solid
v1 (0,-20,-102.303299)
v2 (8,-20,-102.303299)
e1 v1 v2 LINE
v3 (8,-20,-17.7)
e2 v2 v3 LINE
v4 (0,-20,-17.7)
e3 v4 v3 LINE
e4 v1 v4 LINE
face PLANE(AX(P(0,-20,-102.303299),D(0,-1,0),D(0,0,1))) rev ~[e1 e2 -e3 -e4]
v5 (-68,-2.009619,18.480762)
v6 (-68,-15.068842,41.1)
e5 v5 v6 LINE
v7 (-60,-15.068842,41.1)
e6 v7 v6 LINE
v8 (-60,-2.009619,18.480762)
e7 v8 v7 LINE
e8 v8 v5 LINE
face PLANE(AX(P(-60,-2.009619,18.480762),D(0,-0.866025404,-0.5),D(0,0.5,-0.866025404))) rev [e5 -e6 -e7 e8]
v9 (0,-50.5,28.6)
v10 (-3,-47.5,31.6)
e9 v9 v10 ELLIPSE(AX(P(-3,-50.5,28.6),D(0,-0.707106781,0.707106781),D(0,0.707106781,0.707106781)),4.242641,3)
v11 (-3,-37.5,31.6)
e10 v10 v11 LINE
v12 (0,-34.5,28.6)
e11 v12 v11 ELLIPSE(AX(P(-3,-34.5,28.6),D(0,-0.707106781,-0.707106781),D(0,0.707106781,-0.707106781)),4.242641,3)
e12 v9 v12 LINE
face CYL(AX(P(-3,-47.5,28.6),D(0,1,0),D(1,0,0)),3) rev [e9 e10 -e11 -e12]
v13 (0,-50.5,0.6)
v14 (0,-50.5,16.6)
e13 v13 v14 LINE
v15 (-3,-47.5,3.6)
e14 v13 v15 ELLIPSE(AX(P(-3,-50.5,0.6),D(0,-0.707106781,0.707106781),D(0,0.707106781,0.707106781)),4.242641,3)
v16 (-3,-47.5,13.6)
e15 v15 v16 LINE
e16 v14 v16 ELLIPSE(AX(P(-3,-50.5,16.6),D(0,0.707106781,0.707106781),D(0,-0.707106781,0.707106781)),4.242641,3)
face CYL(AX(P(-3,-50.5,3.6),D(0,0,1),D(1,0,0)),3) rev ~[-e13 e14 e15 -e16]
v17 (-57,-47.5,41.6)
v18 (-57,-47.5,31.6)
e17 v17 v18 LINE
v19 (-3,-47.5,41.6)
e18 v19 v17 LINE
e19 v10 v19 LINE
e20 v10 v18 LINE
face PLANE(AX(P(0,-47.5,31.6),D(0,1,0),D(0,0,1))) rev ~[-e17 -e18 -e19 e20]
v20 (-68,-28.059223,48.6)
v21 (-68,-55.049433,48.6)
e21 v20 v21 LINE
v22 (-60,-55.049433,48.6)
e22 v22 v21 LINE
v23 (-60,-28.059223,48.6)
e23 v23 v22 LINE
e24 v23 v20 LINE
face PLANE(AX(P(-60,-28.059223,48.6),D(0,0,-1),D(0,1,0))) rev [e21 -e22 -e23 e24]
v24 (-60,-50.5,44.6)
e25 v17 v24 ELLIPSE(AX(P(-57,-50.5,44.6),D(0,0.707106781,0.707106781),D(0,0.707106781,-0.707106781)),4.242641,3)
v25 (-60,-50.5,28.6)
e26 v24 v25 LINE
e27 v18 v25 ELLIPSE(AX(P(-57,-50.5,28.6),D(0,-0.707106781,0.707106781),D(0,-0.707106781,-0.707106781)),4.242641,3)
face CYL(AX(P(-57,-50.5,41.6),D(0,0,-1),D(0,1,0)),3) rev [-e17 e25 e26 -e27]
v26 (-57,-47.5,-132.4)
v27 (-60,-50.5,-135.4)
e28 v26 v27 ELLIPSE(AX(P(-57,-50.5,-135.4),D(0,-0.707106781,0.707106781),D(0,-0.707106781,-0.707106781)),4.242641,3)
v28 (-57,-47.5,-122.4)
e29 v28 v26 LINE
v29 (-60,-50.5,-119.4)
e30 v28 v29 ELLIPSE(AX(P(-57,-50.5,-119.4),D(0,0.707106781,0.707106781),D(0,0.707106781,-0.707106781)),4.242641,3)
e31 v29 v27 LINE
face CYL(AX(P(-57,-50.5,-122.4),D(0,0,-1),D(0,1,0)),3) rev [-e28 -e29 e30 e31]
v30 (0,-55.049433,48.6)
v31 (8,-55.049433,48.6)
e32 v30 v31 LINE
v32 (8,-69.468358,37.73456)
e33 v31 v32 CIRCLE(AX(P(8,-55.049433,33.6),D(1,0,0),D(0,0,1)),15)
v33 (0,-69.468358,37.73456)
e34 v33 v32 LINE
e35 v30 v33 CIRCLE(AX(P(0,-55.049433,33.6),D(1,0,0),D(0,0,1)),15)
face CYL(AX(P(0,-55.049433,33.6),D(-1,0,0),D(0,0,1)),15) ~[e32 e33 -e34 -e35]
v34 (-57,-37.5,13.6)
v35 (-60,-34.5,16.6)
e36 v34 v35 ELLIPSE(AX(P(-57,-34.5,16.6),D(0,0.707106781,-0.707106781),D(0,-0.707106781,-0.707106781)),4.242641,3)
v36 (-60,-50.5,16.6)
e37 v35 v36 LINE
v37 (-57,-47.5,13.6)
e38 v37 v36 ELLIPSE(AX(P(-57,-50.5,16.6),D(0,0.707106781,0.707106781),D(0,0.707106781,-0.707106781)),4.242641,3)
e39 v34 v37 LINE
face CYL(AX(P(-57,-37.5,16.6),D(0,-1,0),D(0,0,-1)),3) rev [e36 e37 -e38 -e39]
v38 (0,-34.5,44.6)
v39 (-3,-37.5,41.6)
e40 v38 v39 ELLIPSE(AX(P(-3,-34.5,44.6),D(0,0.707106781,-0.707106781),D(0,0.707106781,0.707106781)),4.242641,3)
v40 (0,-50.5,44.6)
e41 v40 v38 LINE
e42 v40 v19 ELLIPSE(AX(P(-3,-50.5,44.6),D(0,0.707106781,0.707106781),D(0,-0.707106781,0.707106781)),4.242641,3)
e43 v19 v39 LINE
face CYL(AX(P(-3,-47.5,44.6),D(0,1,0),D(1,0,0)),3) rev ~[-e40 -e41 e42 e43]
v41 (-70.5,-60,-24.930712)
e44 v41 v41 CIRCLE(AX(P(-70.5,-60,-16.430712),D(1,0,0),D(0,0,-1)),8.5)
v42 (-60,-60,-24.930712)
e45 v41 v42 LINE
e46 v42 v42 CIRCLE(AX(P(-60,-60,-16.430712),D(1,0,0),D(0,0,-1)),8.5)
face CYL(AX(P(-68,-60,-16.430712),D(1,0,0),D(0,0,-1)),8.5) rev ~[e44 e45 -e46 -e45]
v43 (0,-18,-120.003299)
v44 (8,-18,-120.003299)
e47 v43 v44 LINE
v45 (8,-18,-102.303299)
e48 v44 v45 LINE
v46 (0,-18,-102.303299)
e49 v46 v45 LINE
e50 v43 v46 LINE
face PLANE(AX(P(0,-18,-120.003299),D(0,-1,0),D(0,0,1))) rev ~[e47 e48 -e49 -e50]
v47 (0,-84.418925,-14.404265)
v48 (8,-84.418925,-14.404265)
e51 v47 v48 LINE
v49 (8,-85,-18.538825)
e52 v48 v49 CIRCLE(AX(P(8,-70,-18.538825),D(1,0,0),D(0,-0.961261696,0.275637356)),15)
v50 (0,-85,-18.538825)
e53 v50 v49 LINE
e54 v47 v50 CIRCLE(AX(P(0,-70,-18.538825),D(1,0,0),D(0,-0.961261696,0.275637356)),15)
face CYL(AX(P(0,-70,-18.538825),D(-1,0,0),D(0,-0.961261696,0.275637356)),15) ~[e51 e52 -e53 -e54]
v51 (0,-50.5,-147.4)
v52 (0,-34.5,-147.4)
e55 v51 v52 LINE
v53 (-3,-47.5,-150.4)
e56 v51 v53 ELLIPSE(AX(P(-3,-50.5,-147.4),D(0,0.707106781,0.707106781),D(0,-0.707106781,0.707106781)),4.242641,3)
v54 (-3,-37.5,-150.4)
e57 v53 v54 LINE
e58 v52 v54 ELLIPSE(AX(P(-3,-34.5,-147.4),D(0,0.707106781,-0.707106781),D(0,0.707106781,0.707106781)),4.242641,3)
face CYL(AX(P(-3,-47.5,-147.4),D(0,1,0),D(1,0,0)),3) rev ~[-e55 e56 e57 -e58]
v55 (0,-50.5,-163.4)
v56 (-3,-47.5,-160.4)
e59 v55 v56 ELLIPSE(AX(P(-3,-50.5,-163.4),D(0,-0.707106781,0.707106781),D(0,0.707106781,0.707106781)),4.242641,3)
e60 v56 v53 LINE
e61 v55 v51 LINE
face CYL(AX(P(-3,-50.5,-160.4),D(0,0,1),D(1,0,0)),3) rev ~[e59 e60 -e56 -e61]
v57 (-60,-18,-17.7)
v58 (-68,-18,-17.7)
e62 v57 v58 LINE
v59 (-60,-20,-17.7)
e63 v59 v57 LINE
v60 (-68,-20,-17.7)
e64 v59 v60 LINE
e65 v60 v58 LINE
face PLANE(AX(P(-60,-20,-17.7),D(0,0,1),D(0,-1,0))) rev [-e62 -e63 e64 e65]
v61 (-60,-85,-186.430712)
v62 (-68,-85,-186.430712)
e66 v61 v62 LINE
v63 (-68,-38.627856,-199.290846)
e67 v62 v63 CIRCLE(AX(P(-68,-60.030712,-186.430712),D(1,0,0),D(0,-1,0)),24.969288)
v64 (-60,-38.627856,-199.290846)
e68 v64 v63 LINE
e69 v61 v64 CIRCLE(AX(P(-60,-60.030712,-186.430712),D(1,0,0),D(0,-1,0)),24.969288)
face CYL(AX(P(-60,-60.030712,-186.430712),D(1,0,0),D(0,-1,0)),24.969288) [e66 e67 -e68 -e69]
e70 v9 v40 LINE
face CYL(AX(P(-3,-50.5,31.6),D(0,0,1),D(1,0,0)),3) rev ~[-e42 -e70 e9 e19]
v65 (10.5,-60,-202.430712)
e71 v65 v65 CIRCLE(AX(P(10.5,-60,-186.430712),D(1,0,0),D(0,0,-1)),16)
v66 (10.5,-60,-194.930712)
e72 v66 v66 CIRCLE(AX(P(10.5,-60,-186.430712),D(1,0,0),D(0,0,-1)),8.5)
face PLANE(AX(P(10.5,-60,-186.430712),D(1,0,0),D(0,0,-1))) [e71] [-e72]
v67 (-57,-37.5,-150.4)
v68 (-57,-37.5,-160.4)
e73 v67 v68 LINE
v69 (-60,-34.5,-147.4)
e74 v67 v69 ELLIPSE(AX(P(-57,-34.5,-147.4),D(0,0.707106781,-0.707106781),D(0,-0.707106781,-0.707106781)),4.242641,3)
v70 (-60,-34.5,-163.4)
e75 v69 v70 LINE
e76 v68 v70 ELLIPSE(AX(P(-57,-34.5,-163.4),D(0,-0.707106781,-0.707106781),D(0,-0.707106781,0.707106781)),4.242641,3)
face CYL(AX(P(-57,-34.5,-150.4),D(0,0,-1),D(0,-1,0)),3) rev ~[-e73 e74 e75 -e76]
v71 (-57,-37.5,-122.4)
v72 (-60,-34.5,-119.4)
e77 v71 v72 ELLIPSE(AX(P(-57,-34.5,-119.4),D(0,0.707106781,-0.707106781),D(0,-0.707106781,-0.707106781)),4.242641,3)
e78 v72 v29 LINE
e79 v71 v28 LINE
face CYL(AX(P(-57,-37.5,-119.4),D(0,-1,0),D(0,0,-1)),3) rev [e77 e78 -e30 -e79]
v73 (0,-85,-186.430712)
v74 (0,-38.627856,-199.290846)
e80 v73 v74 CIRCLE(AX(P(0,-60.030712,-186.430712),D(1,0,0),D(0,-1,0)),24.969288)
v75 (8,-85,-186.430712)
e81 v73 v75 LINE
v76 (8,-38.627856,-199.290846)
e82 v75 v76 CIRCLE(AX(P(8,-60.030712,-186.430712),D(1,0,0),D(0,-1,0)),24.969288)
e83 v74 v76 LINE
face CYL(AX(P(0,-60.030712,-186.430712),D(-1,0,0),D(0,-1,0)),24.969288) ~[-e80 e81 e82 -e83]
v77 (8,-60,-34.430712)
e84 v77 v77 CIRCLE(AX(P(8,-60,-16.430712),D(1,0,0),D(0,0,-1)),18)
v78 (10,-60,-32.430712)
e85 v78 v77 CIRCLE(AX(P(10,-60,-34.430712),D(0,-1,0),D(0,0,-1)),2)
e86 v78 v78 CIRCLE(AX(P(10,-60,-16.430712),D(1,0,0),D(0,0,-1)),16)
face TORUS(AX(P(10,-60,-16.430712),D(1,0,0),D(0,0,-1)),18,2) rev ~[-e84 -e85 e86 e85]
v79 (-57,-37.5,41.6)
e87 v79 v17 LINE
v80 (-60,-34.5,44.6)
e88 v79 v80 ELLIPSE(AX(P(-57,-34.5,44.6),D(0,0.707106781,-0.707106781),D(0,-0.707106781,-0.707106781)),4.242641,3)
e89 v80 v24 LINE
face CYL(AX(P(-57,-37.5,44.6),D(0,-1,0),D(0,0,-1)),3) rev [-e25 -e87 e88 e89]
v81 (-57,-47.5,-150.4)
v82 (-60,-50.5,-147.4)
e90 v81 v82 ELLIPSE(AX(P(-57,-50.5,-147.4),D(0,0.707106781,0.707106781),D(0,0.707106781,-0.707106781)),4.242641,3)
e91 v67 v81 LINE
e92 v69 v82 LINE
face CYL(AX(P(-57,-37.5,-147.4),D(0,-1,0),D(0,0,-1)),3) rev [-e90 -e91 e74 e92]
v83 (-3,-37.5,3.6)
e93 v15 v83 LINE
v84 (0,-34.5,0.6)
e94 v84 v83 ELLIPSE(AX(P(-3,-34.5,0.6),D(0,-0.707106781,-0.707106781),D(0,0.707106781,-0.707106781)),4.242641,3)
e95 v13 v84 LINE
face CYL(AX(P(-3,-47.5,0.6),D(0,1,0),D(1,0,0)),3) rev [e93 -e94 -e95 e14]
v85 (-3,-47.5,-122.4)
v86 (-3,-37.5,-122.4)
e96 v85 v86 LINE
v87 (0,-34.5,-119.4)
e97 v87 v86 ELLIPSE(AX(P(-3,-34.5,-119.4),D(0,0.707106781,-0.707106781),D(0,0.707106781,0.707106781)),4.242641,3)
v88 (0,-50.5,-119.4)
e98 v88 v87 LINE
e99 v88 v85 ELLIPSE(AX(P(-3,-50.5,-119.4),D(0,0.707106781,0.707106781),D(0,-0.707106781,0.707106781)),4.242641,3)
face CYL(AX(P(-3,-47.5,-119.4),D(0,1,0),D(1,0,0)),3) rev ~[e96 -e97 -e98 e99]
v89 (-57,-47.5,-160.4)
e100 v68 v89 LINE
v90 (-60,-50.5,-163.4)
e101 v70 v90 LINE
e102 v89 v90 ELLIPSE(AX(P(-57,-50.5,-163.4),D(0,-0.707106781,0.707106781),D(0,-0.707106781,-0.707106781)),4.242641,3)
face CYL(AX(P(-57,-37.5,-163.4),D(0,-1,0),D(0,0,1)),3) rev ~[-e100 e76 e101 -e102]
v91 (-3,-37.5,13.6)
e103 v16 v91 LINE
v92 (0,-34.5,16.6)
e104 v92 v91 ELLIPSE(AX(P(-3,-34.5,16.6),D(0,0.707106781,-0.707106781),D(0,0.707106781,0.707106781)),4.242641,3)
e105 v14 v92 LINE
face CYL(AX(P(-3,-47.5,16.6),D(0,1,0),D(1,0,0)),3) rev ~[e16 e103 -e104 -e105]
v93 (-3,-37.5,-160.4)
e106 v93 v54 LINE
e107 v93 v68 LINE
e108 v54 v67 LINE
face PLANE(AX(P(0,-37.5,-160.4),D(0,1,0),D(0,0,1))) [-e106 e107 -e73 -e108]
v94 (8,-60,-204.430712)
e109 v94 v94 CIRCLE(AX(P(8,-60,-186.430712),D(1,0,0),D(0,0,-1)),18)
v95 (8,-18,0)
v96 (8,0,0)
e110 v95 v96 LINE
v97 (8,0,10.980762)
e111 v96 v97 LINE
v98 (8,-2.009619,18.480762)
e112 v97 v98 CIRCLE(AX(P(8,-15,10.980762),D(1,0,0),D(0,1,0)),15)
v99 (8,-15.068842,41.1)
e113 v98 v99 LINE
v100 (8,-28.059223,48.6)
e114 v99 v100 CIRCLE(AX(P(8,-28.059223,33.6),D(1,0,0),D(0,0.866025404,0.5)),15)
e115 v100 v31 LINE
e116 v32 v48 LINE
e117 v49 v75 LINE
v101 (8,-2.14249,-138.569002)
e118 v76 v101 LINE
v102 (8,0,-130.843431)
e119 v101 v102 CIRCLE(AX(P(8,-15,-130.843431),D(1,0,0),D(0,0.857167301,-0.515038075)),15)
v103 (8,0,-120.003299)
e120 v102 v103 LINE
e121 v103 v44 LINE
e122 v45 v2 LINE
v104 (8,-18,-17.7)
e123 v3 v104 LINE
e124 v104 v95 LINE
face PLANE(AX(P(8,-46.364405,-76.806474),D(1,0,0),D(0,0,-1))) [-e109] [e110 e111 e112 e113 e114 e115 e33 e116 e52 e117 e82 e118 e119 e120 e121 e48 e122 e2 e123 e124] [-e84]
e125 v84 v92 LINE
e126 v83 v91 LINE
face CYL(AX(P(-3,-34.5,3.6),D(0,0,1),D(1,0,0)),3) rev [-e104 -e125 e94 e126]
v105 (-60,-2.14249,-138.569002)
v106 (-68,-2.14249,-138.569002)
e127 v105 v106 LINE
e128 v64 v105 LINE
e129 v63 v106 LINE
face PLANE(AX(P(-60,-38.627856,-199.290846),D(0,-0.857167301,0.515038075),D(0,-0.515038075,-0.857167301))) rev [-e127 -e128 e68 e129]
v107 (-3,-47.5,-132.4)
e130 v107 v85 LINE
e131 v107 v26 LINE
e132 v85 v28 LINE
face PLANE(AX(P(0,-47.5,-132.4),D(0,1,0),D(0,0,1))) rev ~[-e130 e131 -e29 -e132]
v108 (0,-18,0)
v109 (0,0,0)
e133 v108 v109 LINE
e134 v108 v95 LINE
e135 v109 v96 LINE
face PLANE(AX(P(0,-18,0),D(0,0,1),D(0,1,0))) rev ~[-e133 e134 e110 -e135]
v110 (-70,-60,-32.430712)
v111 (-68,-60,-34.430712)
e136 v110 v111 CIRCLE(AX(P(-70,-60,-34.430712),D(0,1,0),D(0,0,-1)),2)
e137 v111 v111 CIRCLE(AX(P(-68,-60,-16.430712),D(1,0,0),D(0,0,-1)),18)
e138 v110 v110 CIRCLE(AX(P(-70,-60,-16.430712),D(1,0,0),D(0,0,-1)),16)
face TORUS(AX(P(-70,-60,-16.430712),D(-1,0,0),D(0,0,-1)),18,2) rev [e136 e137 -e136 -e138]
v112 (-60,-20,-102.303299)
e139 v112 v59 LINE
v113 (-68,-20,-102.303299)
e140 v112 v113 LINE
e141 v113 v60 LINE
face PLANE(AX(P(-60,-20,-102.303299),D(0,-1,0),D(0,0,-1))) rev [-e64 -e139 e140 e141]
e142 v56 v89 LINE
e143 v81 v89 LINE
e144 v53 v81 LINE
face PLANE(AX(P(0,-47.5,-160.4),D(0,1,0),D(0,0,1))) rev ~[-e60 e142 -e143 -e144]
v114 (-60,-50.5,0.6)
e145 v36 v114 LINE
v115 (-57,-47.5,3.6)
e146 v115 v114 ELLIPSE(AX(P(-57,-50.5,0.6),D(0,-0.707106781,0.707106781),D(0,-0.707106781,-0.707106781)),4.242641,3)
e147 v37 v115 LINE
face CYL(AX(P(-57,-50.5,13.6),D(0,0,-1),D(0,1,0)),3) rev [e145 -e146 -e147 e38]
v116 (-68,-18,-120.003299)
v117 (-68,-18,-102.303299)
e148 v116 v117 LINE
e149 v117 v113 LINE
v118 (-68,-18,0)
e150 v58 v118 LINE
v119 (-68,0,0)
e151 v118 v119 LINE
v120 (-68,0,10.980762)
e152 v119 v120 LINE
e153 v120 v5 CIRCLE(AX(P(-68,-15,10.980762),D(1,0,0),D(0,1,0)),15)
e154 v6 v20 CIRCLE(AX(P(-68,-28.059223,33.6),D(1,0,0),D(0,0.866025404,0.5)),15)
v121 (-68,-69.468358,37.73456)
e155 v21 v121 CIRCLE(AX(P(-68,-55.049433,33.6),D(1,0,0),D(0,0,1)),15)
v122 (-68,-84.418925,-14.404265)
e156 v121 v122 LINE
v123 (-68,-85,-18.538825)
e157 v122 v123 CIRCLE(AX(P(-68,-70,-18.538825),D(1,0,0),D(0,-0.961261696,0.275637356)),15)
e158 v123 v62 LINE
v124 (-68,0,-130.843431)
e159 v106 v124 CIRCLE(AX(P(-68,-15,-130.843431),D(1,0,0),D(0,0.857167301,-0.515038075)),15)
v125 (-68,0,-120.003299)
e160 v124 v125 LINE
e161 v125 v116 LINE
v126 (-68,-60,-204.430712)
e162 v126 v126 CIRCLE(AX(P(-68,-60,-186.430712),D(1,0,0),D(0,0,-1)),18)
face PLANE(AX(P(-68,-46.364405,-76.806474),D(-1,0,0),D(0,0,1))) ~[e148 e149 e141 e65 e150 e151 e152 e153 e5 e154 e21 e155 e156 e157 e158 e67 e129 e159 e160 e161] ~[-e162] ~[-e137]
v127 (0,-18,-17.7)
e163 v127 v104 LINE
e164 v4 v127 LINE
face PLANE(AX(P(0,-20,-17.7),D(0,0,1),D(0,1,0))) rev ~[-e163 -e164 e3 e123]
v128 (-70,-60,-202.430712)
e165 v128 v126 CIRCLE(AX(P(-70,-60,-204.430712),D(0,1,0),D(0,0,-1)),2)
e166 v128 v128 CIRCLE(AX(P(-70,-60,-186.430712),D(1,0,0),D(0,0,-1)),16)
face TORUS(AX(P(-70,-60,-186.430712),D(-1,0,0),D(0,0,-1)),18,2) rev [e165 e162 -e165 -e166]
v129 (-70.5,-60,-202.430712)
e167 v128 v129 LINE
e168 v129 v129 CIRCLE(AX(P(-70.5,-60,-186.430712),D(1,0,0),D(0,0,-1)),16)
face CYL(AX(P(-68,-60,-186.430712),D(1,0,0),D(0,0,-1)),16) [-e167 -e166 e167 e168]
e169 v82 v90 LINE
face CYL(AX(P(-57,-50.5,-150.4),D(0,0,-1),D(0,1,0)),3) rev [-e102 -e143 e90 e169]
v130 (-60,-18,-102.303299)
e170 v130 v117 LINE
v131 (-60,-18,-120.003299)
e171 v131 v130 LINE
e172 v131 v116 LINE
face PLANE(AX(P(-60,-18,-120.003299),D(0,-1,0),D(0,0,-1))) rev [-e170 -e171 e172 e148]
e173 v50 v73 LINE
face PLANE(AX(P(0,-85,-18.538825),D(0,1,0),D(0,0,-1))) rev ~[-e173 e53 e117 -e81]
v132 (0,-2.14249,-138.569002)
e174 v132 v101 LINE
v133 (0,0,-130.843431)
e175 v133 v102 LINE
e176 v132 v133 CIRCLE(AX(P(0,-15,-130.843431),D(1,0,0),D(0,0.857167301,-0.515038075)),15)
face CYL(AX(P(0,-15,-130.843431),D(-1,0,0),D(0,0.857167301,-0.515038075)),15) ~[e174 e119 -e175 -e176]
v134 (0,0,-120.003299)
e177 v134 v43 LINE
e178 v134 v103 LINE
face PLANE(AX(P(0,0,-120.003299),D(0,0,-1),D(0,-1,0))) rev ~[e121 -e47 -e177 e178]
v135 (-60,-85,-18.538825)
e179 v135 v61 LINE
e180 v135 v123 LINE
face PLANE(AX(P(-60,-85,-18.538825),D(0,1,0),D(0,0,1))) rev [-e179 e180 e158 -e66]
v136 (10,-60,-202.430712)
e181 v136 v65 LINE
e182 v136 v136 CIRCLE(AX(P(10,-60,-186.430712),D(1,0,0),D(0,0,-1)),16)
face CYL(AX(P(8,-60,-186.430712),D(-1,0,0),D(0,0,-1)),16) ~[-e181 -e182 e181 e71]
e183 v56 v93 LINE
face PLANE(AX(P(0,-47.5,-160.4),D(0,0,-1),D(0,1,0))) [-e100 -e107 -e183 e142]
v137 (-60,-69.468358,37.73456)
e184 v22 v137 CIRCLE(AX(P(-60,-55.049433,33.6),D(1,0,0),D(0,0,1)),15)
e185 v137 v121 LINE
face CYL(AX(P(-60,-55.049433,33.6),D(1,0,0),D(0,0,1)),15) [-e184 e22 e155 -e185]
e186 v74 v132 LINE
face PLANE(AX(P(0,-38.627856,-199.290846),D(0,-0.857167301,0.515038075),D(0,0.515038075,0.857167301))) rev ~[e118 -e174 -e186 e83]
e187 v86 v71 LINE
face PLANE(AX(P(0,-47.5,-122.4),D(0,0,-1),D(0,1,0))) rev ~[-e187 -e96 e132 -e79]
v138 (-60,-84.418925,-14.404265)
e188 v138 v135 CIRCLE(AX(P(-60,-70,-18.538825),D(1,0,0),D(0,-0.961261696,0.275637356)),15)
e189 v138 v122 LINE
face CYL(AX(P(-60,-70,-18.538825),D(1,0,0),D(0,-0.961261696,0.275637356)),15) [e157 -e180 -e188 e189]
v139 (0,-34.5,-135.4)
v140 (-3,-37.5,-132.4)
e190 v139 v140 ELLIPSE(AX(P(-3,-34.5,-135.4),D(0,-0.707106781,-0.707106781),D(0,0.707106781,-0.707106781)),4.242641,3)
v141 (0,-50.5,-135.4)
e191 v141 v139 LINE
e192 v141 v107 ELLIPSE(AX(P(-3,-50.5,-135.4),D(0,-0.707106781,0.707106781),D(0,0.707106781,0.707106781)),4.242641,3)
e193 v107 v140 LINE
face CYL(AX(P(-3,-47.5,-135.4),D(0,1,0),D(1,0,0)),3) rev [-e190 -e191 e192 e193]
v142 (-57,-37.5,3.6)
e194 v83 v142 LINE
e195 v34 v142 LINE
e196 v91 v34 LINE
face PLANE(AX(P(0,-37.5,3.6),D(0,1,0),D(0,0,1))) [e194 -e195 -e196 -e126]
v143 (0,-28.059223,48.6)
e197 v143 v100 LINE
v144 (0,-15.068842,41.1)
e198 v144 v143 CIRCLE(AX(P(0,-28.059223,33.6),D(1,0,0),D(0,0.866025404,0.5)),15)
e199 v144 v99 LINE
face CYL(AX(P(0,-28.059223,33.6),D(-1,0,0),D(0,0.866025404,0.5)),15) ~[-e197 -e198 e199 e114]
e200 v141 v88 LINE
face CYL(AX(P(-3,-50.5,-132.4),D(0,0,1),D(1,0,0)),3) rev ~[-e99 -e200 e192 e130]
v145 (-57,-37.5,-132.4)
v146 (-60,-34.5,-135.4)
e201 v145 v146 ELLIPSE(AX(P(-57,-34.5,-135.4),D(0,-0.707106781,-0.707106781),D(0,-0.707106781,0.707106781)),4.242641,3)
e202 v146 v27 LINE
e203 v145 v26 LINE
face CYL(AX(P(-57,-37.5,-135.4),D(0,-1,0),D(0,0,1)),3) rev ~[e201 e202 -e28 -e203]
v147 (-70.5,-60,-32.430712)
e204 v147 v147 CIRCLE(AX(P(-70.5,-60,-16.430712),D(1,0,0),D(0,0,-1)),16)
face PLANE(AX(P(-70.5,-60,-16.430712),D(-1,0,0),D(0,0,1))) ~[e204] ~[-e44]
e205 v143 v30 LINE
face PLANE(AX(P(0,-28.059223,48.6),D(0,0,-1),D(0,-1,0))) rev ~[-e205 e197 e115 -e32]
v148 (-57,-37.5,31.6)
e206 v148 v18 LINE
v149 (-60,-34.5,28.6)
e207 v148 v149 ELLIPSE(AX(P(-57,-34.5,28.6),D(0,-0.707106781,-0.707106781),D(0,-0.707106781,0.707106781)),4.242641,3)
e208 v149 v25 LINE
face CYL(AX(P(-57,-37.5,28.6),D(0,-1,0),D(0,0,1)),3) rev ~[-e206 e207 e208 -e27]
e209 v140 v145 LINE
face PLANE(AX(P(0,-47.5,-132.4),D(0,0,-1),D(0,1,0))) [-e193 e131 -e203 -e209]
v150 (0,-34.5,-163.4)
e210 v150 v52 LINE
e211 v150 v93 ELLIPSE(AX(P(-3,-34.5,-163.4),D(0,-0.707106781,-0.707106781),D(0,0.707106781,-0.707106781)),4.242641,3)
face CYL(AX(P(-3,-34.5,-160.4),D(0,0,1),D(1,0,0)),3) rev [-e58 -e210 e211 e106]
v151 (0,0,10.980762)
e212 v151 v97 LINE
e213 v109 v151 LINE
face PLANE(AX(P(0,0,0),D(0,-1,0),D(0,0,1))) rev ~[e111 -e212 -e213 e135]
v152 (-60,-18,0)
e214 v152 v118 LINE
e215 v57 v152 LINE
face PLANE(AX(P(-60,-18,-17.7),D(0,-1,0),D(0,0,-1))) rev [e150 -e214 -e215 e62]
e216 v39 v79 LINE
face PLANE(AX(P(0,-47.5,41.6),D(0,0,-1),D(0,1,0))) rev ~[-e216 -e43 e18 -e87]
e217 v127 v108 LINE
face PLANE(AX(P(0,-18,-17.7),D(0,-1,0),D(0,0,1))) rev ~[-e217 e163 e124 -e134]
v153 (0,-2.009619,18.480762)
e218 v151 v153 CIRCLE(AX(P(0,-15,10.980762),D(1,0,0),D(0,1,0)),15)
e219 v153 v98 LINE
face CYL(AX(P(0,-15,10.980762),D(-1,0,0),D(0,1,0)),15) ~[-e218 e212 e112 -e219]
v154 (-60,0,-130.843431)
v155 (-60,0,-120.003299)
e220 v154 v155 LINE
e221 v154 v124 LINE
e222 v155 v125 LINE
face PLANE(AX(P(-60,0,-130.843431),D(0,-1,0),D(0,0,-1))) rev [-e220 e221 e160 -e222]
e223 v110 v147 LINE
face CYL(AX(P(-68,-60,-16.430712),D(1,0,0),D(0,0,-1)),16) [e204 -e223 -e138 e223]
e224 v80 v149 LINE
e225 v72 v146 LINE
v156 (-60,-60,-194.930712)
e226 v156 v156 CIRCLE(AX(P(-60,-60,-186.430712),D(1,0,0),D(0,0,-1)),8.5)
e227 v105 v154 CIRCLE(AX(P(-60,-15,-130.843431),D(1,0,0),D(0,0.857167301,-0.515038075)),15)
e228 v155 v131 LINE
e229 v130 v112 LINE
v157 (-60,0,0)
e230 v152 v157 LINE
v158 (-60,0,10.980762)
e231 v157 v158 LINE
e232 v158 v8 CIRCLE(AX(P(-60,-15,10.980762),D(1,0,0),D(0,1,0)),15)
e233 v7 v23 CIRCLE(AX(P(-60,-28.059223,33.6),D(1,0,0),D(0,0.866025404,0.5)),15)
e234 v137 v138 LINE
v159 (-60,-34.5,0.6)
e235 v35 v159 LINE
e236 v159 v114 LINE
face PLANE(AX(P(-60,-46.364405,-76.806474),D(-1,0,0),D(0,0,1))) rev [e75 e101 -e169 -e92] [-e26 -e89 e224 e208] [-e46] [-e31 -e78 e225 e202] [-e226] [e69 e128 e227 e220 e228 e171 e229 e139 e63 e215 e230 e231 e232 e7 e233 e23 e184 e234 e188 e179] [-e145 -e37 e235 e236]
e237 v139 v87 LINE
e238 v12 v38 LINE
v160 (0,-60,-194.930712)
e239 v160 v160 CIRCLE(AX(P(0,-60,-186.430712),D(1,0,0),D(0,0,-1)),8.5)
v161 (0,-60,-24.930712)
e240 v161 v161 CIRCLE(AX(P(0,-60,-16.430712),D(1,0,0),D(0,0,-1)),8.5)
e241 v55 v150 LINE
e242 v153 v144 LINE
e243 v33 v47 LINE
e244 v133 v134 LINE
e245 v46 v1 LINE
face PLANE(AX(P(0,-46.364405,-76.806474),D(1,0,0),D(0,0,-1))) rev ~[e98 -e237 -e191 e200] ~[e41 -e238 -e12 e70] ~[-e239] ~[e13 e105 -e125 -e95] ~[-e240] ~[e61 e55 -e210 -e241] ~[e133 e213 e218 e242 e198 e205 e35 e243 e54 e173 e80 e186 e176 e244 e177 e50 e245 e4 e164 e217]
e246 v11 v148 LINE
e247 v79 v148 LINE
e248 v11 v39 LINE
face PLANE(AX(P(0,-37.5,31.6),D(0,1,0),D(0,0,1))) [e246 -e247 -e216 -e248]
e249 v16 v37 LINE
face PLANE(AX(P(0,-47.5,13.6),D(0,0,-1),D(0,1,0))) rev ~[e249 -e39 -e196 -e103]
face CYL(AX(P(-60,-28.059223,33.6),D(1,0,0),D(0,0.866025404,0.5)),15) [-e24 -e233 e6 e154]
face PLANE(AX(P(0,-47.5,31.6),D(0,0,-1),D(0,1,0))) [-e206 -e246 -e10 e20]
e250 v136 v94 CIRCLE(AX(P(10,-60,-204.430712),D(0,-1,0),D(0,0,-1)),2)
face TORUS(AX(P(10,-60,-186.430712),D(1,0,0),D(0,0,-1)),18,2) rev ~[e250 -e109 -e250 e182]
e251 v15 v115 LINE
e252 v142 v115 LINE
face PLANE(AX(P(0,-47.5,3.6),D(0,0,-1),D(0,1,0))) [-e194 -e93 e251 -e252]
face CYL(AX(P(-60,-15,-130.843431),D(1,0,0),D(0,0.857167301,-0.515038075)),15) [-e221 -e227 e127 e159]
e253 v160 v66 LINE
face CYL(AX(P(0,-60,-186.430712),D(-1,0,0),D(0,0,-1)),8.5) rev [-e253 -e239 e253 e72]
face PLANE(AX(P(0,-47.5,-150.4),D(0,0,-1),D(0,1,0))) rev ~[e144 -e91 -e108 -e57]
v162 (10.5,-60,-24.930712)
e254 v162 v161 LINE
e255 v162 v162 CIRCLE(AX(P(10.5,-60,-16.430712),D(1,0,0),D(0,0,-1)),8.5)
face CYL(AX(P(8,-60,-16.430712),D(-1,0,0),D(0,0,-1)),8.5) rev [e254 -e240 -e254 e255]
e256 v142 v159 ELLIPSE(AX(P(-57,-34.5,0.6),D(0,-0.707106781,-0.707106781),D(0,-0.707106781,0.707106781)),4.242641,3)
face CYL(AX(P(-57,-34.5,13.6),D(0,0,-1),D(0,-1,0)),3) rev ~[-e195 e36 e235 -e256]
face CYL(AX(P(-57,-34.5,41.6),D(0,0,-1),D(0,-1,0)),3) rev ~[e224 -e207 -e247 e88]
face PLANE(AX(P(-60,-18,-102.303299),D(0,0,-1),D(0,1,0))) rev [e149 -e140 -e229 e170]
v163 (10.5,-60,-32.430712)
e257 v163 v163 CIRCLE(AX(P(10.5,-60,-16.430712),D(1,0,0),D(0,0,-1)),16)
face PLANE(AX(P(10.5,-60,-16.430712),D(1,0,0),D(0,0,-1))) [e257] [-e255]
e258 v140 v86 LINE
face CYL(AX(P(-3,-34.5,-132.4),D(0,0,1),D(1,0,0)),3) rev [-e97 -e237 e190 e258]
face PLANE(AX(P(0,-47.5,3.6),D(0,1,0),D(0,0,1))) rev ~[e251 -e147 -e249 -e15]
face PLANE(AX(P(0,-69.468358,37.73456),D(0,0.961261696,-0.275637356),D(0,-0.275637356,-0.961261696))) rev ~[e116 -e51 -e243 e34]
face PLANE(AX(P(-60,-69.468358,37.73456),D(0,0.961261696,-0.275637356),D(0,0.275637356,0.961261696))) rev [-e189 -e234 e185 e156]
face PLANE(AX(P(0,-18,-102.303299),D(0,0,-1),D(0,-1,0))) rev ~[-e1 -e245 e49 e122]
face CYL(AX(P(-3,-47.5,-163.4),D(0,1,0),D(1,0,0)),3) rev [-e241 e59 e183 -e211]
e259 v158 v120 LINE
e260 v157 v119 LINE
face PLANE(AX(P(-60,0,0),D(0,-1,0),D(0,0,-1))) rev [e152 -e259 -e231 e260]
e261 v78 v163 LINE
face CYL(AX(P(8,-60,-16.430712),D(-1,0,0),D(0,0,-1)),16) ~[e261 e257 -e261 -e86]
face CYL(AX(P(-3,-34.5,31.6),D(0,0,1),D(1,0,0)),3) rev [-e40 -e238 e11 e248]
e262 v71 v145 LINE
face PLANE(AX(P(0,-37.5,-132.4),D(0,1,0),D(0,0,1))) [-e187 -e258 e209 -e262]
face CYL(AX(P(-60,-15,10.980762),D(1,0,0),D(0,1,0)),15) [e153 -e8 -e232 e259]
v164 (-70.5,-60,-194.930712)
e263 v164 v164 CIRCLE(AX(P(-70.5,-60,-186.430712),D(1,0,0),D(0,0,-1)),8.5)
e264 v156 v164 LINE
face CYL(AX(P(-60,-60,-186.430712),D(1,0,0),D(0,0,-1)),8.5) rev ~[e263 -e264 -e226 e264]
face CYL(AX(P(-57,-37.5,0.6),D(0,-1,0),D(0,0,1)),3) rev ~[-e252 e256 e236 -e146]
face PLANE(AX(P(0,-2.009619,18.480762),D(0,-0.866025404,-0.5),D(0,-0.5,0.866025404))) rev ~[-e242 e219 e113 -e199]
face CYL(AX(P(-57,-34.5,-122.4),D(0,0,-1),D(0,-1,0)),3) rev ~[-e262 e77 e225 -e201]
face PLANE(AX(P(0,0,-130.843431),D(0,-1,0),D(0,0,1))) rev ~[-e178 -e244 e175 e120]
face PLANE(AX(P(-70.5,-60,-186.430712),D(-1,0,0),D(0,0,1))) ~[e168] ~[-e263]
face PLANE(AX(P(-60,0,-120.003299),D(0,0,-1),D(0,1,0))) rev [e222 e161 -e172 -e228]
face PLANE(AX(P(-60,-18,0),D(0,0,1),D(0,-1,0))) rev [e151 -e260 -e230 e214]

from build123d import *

# Parameters (mm, degrees)
SZKIC1_R                    = 8.5
DODANIE_WYCI_GNI_CIE1_DEPTH = 8
SZKIC2_R                    = 16
SZKIC2_R_2                  = 8.5
DODANIE_WYCI_GNI_CIE2_DEPTH = 2.5
ZAOKR_GLENIE1_R             = 2
DODANIE_WYCI_GNI_CIE3_REACH = 240.506
SZKIC3_W                    = 10
SZKIC3_H                    = 10
ZAOKR_GLENIE2_R             = 3


with BuildPart() as part:
    # Szkic1 → Dodanie-wyciągnięcie1 (new body)
    with BuildSketch(Plane(origin=(0, 0, 0), x_dir=(0, 0, -1), z_dir=(1, 0, 0))):
        with BuildLine():
            Line((0, 0), (-10.980762114, 0))
            ThreePointArc((-10.980762114, 0), (-14.86304779, -0.511112606), (-18.480762114, -2.009618943))
            Line((-18.480762114, -2.009618943), (-41.1, -15.068842026))
            ThreePointArc((-41.1, -15.068842026), (-46.590381057, -20.559223083), (-48.6, -28.059223083))
            Line((-48.6, -28.059223083), (-48.6, -55.049432524))
            ThreePointArc((-48.6, -55.049432524), (-45.579532651, -64.076657871), (-37.734560337, -69.468357963))
            Line((-37.734560337, -69.468357963), (14.404264621, -84.418925439))
            ThreePointArc((14.404264621, -84.418925439), (16.451228444, -84.854021031), (18.538824959, -85))
            Line((18.538824959, -85), (186.430712438, -85))
            ThreePointArc((186.430712438, -85), (210.491878328, -66.703464298), (199.290846236, -38.627855618))
            Line((199.290846236, -38.627855618), (138.569001646, -2.142490489))
            ThreePointArc((138.569001646, -2.142490489), (134.852006163, -0.545543202), (130.843430522, 0))
            Line((130.843430522, 0), (120.003298683, 0))
            Line((120.003298683, 0), (120.003298683, -18))
            Line((120.003298683, -18), (102.303298683, -18))
            Line((102.303298683, -18), (102.303298683, -20))
            Line((102.303298683, -20), (17.7, -20))
            Line((17.7, -20), (17.7, -18))
            Line((17.7, -18), (0, -18))
            Line((0, -18), (0, 0))
        make_face()
        with Locations((16.430712438, -60)):
            Circle(SZKIC1_R, mode=Mode.SUBTRACT)
        with Locations((186.430712438, -60)):
            Circle(SZKIC1_R, mode=Mode.SUBTRACT)
    extrude(amount=DODANIE_WYCI_GNI_CIE1_DEPTH)

    # Szkic2 → Dodanie-wyciągnięcie2 (add)
    # profile 1 of 2: a face of its own
    with BuildSketch(Plane(origin=(8, 0, 0), x_dir=(0, 0, -1), z_dir=(1, 0, 0))):
        with Locations((16.430712438, -60)):
            Circle(SZKIC2_R)
        with Locations((16.430712438, -60)):
            Circle(SZKIC2_R_2, mode=Mode.SUBTRACT)
    # profile 2 of 2: a face of its own
    with BuildSketch(Plane(origin=(8, 0, 0), x_dir=(0, 0, -1), z_dir=(1, 0, 0))):
        with Locations((186.430712438, -60)):
            Circle(SZKIC2_R)
        with Locations((186.430712438, -60)):
            Circle(SZKIC2_R_2, mode=Mode.SUBTRACT)
    extrude(amount=DODANIE_WYCI_GNI_CIE2_DEPTH)

    # Zaokrąglenie1
    zaokr_glenie1_edges = [part.edges().sort_by_distance(p)[0] for p in [
        (8, -60, -0.430712438),
        (8, -60, -170.430712438),
    ]]
    fillet(zaokr_glenie1_edges, radius=ZAOKR_GLENIE1_R)


with BuildPart() as body_2:
    # Lustro3: mirrored copy
    add(part.part.mirror(Plane.ZY.offset(30)))

    # Szkic3 → Dodanie-wyciągnięcie3 (add, up to next)
    with BuildSketch(Plane.ZY, mode=Mode.PRIVATE) as dodanie_wyci_gni_cie3_sk1:
        with Locations((8.6, -42.5)):
            Rectangle(SZKIC3_W, SZKIC3_H)
    dodanie_wyci_gni_cie3_tool1 = extrude(dodanie_wyci_gni_cie3_sk1.sketch, amount=DODANIE_WYCI_GNI_CIE3_REACH, mode=Mode.PRIVATE) - body_2.part
    # Szkic3 → Dodanie-wyciągnięcie3 (add, up to next)
    with BuildSketch(Plane.ZY, mode=Mode.PRIVATE) as dodanie_wyci_gni_cie3_sk2:
        with Locations((36.6, -42.5)):
            Rectangle(SZKIC3_W, SZKIC3_H)
    dodanie_wyci_gni_cie3_tool2 = extrude(dodanie_wyci_gni_cie3_sk2.sketch, amount=DODANIE_WYCI_GNI_CIE3_REACH, mode=Mode.PRIVATE) - body_2.part
    # Szkic3 → Dodanie-wyciągnięcie3 (add, up to next)
    with BuildSketch(Plane.ZY, mode=Mode.PRIVATE) as dodanie_wyci_gni_cie3_sk3:
        with Locations((-155.4, -42.5)):
            Rectangle(SZKIC3_W, SZKIC3_H)
    dodanie_wyci_gni_cie3_tool3 = extrude(dodanie_wyci_gni_cie3_sk3.sketch, amount=DODANIE_WYCI_GNI_CIE3_REACH, mode=Mode.PRIVATE) - body_2.part
    # Szkic3 → Dodanie-wyciągnięcie3 (add, up to next)
    with BuildSketch(Plane.ZY, mode=Mode.PRIVATE) as dodanie_wyci_gni_cie3_sk4:
        with Locations((-127.4, -42.5)):
            Rectangle(SZKIC3_W, SZKIC3_H)
    dodanie_wyci_gni_cie3_tool4 = extrude(dodanie_wyci_gni_cie3_sk4.sketch, amount=DODANIE_WYCI_GNI_CIE3_REACH, mode=Mode.PRIVATE) - body_2.part

    add(part.part)  # Dodanie-wyciągnięcie3 merges part
    add(dodanie_wyci_gni_cie3_tool1.solids().sort_by_distance((0, -42.5, 8.6))[0])
    add(dodanie_wyci_gni_cie3_tool2.solids().sort_by_distance((0, -42.5, 36.6))[0])
    add(dodanie_wyci_gni_cie3_tool3.solids().sort_by_distance((0, -42.5, -155.4))[0])
    add(dodanie_wyci_gni_cie3_tool4.solids().sort_by_distance((0, -42.5, -127.4))[0])

    # Zaokrąglenie2
    zaokr_glenie2_edges = [body_2.edges().sort_by_distance(p)[0] for p in [
        (-60, -42.5, 31.6),
        (-60, -47.5, 36.6),
        (-60, -42.5, 41.6),
        (-60, -37.5, 36.6),
        (0, -47.5, 36.6),
        (0, -42.5, 31.6),
        (0, -42.5, 41.6),
        (0, -37.5, 36.6),
        (-60, -42.5, -160.4),
        (-60, -47.5, -155.4),
        (-60, -42.5, -150.4),
        (-60, -37.5, -155.4),
        (0, -42.5, -160.4),
        (0, -47.5, -155.4),
        (0, -42.5, -150.4),
        (0, -37.5, -155.4),
        (-60, -42.5, -132.4),
        (-60, -47.5, -127.4),
        (-60, -42.5, -122.4),
        (-60, -37.5, -127.4),
        (0, -47.5, -127.4),
        (0, -42.5, -132.4),
        (0, -42.5, -122.4),
        (0, -37.5, -127.4),
        (-60, -42.5, 3.6),
        (-60, -47.5, 8.6),
        (-60, -42.5, 13.6),
        (-60, -37.5, 8.6),
        (0, -47.5, 8.6),
        (0, -42.5, 3.6),
        (0, -42.5, 13.6),
        (0, -37.5, 8.6),
    ]]
    fillet(zaokr_glenie2_edges, radius=ZAOKR_GLENIE2_R)


solid = body_2.part
